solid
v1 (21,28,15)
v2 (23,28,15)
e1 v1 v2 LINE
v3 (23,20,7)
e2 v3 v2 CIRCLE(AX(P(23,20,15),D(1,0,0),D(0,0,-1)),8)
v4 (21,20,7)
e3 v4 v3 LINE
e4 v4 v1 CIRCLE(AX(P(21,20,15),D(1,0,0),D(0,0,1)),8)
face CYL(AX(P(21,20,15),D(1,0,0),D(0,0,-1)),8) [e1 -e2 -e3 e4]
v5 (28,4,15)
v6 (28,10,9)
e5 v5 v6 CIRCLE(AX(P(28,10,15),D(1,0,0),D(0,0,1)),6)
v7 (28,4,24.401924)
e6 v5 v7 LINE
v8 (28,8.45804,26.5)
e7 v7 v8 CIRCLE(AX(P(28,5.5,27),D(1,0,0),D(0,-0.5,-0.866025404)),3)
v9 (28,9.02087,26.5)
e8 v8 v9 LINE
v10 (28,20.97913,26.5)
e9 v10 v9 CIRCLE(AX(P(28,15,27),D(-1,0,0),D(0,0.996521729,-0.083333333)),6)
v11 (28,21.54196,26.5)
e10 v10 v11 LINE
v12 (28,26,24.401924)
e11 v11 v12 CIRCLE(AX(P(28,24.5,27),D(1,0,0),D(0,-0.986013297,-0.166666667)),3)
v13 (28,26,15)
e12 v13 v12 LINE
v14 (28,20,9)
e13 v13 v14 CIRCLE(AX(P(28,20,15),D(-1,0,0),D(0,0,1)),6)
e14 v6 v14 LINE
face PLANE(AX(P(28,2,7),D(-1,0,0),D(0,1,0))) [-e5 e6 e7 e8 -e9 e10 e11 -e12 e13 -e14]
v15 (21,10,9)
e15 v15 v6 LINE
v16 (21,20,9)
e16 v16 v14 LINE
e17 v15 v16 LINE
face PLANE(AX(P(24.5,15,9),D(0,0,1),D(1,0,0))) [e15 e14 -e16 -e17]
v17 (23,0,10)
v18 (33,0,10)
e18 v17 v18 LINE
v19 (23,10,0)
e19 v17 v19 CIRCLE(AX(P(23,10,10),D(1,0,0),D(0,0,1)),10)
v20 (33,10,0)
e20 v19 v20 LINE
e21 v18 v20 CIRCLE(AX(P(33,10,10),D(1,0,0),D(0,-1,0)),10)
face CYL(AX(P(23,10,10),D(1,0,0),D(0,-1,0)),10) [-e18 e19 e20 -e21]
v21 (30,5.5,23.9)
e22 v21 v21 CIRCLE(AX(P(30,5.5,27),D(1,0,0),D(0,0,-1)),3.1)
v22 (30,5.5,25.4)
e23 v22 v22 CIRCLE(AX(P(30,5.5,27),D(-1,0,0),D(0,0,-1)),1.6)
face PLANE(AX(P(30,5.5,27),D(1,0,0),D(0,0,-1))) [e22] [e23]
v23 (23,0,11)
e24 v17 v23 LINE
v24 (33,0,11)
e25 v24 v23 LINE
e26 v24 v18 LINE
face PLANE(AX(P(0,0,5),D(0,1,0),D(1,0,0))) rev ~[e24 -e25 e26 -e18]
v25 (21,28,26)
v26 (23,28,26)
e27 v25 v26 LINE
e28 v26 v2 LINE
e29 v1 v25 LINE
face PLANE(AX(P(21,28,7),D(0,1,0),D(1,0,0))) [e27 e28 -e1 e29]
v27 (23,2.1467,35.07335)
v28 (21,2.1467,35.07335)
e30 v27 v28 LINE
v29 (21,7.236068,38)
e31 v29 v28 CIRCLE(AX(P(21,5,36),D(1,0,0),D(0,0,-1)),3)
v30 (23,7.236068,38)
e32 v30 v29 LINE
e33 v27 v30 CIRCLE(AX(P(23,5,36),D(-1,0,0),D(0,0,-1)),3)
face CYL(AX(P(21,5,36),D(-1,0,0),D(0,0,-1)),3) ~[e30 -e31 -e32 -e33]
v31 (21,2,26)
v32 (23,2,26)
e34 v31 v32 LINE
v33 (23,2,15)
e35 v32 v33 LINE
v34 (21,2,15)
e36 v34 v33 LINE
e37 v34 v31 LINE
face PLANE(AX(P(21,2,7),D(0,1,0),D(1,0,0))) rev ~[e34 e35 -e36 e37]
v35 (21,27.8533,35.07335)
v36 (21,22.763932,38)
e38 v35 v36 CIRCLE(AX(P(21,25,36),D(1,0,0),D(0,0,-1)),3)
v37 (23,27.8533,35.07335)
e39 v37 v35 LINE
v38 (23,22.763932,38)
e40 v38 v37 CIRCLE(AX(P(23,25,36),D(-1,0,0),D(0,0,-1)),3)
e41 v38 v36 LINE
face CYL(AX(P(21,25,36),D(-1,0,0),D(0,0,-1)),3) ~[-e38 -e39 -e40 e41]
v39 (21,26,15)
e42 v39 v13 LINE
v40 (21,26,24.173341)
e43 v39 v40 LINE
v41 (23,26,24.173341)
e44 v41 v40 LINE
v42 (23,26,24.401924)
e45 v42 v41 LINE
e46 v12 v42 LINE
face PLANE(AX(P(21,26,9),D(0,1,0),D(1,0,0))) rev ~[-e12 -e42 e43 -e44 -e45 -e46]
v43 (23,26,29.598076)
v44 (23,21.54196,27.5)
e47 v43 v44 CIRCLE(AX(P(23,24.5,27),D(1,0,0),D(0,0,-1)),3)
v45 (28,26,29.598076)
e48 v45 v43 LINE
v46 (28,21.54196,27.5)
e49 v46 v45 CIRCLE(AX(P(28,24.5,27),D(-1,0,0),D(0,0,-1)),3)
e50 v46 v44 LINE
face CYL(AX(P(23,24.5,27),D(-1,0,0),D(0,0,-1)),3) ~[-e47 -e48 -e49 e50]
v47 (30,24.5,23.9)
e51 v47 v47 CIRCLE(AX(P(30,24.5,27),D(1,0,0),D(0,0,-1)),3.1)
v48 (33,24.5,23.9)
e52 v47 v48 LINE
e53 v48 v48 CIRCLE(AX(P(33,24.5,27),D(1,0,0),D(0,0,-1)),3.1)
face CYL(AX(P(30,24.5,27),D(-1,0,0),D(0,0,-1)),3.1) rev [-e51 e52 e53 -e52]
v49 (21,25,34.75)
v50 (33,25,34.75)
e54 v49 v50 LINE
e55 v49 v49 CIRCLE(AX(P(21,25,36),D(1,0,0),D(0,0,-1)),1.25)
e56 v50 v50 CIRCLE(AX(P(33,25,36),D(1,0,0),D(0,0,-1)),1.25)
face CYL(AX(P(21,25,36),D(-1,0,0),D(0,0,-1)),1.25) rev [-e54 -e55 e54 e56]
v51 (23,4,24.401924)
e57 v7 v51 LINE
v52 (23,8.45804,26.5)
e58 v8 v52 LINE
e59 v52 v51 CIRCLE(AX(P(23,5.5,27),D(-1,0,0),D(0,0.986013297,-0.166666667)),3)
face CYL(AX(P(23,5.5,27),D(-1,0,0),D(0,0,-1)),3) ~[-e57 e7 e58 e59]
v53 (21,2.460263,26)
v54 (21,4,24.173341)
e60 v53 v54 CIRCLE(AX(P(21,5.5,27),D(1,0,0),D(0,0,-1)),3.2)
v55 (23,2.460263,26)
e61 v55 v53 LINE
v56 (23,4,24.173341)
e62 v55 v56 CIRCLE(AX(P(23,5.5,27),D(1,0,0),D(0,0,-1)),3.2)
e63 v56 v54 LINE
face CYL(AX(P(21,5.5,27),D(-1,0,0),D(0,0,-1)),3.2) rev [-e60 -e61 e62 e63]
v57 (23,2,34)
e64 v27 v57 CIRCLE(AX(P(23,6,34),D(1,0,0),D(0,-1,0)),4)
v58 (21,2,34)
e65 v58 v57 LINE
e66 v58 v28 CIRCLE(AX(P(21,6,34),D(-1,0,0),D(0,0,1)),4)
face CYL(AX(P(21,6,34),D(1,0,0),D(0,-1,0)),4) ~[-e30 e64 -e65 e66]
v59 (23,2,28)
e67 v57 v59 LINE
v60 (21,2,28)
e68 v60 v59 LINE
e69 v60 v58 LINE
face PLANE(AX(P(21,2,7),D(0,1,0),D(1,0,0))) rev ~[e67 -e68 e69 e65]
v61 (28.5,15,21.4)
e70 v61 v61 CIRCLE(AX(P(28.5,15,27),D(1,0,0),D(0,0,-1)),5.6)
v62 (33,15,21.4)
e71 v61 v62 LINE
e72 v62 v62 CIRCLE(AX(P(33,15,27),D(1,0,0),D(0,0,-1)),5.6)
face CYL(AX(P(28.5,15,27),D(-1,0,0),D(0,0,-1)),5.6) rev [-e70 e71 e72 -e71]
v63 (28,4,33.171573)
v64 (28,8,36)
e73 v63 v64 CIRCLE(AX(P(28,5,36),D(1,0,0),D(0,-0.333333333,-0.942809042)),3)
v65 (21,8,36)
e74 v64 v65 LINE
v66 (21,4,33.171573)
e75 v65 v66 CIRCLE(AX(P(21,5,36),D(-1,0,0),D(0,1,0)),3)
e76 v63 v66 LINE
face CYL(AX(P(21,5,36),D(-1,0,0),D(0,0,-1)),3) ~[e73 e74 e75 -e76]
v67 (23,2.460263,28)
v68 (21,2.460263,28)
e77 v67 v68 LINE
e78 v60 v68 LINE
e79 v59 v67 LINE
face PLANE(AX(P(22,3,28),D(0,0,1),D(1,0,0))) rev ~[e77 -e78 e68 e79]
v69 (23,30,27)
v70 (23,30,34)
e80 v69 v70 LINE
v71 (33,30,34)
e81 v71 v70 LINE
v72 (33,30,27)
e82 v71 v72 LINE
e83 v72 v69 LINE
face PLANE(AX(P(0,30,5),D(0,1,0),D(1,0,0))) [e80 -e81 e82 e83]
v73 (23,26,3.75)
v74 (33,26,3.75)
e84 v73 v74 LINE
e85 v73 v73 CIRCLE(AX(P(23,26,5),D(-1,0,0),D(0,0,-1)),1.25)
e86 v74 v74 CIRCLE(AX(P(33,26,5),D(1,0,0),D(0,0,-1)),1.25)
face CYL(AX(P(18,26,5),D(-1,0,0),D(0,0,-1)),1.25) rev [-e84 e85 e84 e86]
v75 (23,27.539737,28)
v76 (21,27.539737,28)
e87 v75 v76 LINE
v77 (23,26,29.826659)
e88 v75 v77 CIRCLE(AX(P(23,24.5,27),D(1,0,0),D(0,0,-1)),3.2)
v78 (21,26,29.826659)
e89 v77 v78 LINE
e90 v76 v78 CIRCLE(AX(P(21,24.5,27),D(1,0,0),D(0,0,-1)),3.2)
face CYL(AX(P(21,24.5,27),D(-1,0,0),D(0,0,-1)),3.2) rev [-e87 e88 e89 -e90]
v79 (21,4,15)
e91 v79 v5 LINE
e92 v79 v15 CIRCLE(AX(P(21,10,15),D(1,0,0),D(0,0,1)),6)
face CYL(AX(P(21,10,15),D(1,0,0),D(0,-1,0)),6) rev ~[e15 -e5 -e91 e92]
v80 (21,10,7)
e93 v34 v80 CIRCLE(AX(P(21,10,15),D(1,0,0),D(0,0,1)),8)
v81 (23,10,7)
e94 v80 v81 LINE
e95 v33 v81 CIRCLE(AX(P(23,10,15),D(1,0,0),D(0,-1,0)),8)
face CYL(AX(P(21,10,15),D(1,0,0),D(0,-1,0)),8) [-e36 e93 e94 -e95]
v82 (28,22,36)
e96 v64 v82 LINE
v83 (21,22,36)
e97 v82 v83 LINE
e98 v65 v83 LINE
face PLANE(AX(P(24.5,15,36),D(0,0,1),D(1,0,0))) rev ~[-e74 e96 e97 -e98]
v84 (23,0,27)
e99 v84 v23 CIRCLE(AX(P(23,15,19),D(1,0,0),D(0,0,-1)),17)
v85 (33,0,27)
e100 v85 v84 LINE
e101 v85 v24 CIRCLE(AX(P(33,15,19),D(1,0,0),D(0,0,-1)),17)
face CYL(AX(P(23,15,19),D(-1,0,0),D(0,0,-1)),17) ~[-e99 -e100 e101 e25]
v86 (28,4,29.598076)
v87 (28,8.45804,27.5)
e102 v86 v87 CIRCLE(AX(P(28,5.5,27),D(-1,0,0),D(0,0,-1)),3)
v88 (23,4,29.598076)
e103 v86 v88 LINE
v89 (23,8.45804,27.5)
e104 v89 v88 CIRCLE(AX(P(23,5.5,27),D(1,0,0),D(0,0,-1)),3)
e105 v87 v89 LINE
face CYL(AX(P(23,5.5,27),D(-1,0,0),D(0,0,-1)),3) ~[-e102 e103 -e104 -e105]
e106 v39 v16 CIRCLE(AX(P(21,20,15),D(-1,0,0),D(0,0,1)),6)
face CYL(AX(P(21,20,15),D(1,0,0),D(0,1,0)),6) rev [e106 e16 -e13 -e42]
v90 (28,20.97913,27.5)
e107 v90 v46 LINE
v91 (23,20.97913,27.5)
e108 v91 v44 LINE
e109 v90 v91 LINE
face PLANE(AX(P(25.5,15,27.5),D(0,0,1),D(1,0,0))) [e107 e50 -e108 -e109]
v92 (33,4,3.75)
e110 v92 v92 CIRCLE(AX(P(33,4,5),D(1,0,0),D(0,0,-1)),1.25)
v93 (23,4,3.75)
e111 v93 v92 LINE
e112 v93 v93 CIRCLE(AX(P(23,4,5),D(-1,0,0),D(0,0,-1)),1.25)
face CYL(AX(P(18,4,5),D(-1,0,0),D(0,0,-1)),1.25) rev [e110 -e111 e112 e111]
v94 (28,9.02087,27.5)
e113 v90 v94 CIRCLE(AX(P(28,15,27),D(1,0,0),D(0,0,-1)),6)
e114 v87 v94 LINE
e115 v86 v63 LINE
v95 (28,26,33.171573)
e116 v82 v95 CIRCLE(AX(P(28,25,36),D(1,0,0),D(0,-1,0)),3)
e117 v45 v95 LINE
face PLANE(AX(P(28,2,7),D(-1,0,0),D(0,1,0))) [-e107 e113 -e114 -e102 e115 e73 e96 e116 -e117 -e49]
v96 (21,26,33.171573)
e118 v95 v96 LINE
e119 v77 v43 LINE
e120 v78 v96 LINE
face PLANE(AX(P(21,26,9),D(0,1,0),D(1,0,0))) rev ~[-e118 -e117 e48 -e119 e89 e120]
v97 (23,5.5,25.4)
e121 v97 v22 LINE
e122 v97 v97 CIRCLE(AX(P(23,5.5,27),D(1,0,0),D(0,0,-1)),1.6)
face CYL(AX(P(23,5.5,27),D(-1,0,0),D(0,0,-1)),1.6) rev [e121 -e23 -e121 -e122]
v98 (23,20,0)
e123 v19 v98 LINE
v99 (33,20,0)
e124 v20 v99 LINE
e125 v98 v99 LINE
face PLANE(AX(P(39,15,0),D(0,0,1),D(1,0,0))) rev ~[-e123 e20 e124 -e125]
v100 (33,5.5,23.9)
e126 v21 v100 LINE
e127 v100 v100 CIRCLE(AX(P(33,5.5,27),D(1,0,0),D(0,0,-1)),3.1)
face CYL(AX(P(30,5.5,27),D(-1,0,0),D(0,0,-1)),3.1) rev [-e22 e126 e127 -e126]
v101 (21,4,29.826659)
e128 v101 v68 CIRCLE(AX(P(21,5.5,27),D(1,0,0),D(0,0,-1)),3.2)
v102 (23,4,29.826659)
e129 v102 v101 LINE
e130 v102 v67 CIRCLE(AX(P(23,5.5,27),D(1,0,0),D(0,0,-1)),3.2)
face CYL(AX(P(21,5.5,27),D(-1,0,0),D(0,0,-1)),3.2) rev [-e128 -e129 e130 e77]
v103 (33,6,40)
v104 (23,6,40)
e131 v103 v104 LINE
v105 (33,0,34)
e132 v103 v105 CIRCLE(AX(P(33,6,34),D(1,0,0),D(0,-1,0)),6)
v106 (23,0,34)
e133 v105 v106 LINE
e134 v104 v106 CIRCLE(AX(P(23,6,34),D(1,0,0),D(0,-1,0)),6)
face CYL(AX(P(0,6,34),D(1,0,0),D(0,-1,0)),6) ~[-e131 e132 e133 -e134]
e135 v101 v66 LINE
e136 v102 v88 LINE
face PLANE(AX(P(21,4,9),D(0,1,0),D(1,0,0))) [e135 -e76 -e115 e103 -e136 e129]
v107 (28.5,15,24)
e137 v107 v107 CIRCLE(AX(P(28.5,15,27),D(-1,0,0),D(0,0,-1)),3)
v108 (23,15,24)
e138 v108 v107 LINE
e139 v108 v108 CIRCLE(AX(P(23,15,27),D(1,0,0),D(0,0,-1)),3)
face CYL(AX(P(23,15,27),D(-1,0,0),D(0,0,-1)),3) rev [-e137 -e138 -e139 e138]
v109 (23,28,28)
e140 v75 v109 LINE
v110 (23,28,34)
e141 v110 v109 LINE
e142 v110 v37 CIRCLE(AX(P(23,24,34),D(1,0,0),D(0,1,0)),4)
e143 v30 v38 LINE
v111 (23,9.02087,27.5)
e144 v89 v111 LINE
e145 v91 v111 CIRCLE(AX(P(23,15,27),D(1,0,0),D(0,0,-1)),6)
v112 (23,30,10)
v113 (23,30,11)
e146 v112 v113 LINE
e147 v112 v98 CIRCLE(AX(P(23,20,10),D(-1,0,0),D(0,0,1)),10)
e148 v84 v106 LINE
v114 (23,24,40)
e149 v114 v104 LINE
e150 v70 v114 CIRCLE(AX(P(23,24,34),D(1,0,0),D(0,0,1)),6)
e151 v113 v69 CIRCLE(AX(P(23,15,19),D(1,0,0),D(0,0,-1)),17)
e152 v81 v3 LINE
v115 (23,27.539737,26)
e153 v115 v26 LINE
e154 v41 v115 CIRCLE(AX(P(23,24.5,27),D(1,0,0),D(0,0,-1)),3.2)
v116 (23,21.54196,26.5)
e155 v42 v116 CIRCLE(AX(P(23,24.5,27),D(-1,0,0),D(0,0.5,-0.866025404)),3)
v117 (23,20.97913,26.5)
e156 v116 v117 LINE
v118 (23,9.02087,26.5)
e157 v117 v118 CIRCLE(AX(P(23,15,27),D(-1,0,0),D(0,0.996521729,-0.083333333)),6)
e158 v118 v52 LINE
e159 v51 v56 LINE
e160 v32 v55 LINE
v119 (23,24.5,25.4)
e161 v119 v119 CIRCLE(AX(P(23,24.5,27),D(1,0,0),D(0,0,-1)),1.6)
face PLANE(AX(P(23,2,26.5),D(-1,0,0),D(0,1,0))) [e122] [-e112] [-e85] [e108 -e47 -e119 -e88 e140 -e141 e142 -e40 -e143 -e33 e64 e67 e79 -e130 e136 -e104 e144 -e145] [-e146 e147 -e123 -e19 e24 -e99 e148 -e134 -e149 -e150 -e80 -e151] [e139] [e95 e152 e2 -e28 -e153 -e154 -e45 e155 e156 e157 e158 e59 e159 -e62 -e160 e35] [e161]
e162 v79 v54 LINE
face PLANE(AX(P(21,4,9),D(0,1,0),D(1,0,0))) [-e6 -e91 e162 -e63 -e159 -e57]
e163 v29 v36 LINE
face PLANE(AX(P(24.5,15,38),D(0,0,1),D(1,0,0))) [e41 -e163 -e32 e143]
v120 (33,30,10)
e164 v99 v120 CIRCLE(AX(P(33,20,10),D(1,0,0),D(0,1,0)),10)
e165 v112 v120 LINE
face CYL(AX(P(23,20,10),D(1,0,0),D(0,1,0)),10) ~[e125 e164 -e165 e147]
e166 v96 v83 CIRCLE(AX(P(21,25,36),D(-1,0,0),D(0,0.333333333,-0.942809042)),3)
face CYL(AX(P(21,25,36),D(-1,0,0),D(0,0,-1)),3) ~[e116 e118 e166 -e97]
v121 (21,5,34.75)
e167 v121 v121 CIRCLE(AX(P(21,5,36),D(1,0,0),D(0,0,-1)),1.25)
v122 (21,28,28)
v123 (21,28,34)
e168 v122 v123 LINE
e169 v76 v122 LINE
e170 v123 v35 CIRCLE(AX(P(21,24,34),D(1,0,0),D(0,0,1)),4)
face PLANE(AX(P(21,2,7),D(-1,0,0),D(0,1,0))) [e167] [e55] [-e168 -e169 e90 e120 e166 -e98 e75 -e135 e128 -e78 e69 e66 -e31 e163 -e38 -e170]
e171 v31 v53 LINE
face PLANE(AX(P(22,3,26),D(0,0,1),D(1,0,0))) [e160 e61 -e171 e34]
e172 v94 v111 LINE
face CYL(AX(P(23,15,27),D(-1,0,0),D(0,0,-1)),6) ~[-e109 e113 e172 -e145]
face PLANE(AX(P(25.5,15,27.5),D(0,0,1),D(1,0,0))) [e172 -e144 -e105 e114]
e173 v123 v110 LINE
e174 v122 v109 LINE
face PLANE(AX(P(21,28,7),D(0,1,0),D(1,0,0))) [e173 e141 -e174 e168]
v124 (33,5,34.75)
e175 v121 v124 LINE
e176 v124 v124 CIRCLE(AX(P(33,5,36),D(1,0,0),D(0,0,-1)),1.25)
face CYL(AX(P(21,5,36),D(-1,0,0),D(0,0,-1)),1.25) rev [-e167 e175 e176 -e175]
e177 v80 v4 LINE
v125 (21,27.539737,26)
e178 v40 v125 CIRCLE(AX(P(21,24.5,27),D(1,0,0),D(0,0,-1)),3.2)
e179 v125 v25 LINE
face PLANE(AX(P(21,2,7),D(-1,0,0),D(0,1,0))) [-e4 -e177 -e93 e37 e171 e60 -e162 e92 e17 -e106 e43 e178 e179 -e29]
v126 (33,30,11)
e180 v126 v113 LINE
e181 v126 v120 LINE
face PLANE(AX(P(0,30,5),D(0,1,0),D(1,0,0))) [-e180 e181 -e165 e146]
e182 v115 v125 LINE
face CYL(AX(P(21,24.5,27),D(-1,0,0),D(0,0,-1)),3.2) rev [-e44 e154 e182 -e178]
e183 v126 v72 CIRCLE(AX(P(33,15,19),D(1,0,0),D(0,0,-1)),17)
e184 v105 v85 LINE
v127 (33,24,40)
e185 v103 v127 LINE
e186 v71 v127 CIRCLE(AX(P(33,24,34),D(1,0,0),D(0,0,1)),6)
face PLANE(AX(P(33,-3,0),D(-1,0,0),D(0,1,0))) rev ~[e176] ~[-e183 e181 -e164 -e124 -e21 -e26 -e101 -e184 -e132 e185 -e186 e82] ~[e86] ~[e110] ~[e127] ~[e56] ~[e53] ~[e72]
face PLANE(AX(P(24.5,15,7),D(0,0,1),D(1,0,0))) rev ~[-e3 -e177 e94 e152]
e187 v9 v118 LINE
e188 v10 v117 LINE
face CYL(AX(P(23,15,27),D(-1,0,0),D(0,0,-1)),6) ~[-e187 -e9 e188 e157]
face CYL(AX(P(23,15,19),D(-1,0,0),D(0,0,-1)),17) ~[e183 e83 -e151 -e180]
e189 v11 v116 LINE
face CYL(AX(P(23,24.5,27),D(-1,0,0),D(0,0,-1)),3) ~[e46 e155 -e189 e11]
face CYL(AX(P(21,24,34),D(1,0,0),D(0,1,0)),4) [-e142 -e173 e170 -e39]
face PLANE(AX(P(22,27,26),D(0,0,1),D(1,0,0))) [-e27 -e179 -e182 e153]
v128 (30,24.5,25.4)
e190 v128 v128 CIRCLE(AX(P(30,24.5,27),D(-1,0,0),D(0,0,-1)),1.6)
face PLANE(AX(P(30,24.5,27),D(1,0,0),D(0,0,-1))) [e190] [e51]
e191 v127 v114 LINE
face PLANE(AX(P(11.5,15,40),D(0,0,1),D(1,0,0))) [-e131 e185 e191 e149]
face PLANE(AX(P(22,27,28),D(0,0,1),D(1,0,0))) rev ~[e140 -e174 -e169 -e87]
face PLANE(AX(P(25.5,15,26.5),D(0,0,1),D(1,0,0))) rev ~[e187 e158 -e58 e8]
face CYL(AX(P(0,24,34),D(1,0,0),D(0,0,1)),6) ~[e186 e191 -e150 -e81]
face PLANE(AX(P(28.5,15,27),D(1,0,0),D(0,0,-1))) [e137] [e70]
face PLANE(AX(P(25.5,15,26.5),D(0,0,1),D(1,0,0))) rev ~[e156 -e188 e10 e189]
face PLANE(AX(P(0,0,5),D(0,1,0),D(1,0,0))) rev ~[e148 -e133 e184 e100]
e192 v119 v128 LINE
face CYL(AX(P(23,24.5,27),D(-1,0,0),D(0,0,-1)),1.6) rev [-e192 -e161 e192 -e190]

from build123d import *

# Parameters (mm, degrees)
CYLINDER092_R           = 1.6
CYLINDER092_DEPTH       = 10
CYLINDER092_PITCH_ANGLE = 90
CYLINDER094_R           = 3.1
CYLINDER094_DEPTH       = 3
CYLINDER094_PITCH_ANGLE = 90
CYLINDER093_R           = 3.1
CYLINDER093_DEPTH       = 3
CYLINDER093_PITCH_ANGLE = 90
CYLINDER091_R           = 1.6
CYLINDER091_DEPTH       = 10
CYLINDER091_PITCH_ANGLE = 90
CYLINDER087_R           = 3.2
CYLINDER087_DEPTH       = 2
CYLINDER087_PITCH_ANGLE = 90
CYLINDER088_R           = 3.2
CYLINDER088_DEPTH       = 2
CYLINDER088_PITCH_ANGLE = 90
CYLINDER090_R           = 3
CYLINDER090_DEPTH       = 10
CYLINDER090_PITCH_ANGLE = 90
CYLINDER082_R           = 1.25
CYLINDER082_DEPTH       = 12
CYLINDER082_PITCH_ANGLE = 90
CYLINDER080_R           = 1.25
CYLINDER080_DEPTH       = 12
CYLINDER080_PITCH_ANGLE = 90
CYLINDER081_R           = 3
CYLINDER081_DEPTH       = 12
CYLINDER081_PITCH_ANGLE = 90
BOX026_W                = 2
BOX026_H                = 2
BOX026_DEPTH            = 2
BOX025_W                = 2
BOX025_H                = 2
BOX025_DEPTH            = 2
BOX024_W                = 7
BOX024_H                = 22
BOX024_DEPTH            = 27
FILLET033_R             = 6
FILLET034_R             = 2
BOX023_W                = 7
BOX023_H                = 26
BOX023_DEPTH            = 31
FILLET032_R             = 4
FILLET031_R             = 8
CYLINDER078_R           = 3
CYLINDER078_DEPTH       = 5
CYLINDER078_PITCH_ANGLE = 90
BOX022_W                = 5
BOX022_H                = 26
BOX022_DEPTH            = 1
CYLINDER077_R           = 6
CYLINDER077_DEPTH       = 5
CYLINDER077_PITCH_ANGLE = 90
BOX021_W                = 18
BOX021_H                = 26
BOX021_DEPTH            = 31
FILLET030_R             = 4
FILLET029_R             = 8
BOX017_W                = 23
BOX017_H                = 80
BOX017_DEPTH            = 41
CYLINDER074_R           = 1.25
CYLINDER074_DEPTH       = 10
CYLINDER074_ROLL_ANGLE  = 90
CYLINDER073_R           = 1.25
CYLINDER073_DEPTH       = 10
CYLINDER073_ROLL_ANGLE  = 90
CYLINDER070_R           = 4
CYLINDER070_DEPTH       = 23
CYLINDER070_ROLL_ANGLE  = 90
FILLET024_R             = 2
CYLINDER071_R           = 4
CYLINDER071_DEPTH       = 23
CYLINDER071_ROLL_ANGLE  = 90
FILLET025_R             = 2
CYLINDER072_R           = 4
CYLINDER072_DEPTH       = 23
CYLINDER072_ROLL_ANGLE  = 90
FILLET026_R             = 2
CYLINDER069_R           = 4
CYLINDER069_DEPTH       = 23
CYLINDER069_ROLL_ANGLE  = 90
FILLET023_R             = 2
CYLINDER067_R           = 5.6
CYLINDER067_DEPTH       = 4.5
CYLINDER067_PITCH_ANGLE = 90
CYLINDER068_R           = 5.6
CYLINDER068_DEPTH       = 4.5
CYLINDER068_PITCH_ANGLE = 90
CYLINDER066_R           = 3
CYLINDER066_DEPTH       = 33
CYLINDER066_PITCH_ANGLE = 90
CYLINDER063_R           = 1.25
CYLINDER063_DEPTH       = 15
CYLINDER063_PITCH_ANGLE = 90
CYLINDER064_R           = 1.25
CYLINDER064_DEPTH       = 15
CYLINDER064_PITCH_ANGLE = 90
CYLINDER065_R           = 1.25
CYLINDER065_DEPTH       = 15
CYLINDER065_PITCH_ANGLE = 90
CYLINDER062_R           = 1.25
CYLINDER062_DEPTH       = 15
CYLINDER062_PITCH_ANGLE = 90
CYLINDER061_R           = 17
CYLINDER061_DEPTH       = 10
CYLINDER061_PITCH_ANGLE = 90
BOX016_W                = 22
BOX016_H                = 36
BOX016_DEPTH            = 40
CYLINDER060_R           = 17
CYLINDER060_DEPTH       = 17
CYLINDER060_PITCH_ANGLE = 90
BOX015_W                = 23
BOX015_H                = 30
BOX015_DEPTH            = 35
FILLET022_R             = 10
FILLET021_R             = 6
BOX014_W                = 32
BOX014_H                = 30
BOX014_DEPTH            = 40
FILLET020_R             = 10
FILLET019_R             = 6
BOX013_W                = 10
BOX013_H                = 50
BOX013_DEPTH            = 3
BOX012_W                = 10
BOX012_H                = 80
BOX012_DEPTH            = 17
FILLET018_R             = 3
CHAMFER002_SIZE         = 2.99
CYLINDER079_R           = 3
CYLINDER079_DEPTH       = 12
CYLINDER079_PITCH_ANGLE = 90
CYLINDER089_R           = 3
CYLINDER089_DEPTH       = 10
CYLINDER089_PITCH_ANGLE = 90


with BuildPart() as cylinder092:
    # Cylinder092 → Cylinder092 (new body)
    with BuildSketch(Plane.XY):
        Circle(CYLINDER092_R)
    extrude(amount=CYLINDER092_DEPTH)


with BuildPart() as cylinder092_1:
    # Cylinder092 pitch: moved
    add(cylinder092.part.rotate(Axis((0, 0, 0), (0, 1, 0)), CYLINDER092_PITCH_ANGLE))


with BuildPart() as cylinder092_2:
    # Cylinder092 placement: moved
    add(cylinder092_1.part.moved(Location((23, 24.5, 27))))


with BuildPart() as cylinder094:
    # Cylinder094 → Cylinder094 (new body)
    with BuildSketch(Plane.XY):
        Circle(CYLINDER094_R)
    extrude(amount=CYLINDER094_DEPTH)


with BuildPart() as cylinder094_1:
    # Cylinder094 pitch: moved
    add(cylinder094.part.rotate(Axis((0, 0, 0), (0, 1, 0)), CYLINDER094_PITCH_ANGLE))


with BuildPart() as cylinder094_2:
    # Cylinder094 placement: moved
    add(cylinder094_1.part.moved(Location((30, 24.5, 27))))


with BuildPart() as cylinder093:
    # Cylinder093 → Cylinder093 (new body)
    with BuildSketch(Plane.XY):
        Circle(CYLINDER093_R)
    extrude(amount=CYLINDER093_DEPTH)


with BuildPart() as cylinder093_1:
    # Cylinder093 pitch: moved
    add(cylinder093.part.rotate(Axis((0, 0, 0), (0, 1, 0)), CYLINDER093_PITCH_ANGLE))


with BuildPart() as cylinder093_2:
    # Cylinder093 placement: moved
    add(cylinder093_1.part.moved(Location((30, 5.5, 27))))


with BuildPart() as fusion051:
    # Cylinder091 → Cylinder091 (new body)
    with BuildSketch(Plane.XY):
        Circle(CYLINDER091_R)
    extrude(amount=CYLINDER091_DEPTH)


with BuildPart() as fusion051_1:
    # Cylinder091 pitch: moved
    add(fusion051.part.rotate(Axis((0, 0, 0), (0, 1, 0)), CYLINDER091_PITCH_ANGLE))


with BuildPart() as fusion051_2:
    # Cylinder091 placement: moved
    add(fusion051_1.part.moved(Location((23, 5.5, 27))))

    # Fusion051: union Cylinder092, Cylinder094, Cylinder093
    add(cylinder092_2.part)
    add(cylinder094_2.part)
    add(cylinder093_2.part)


with BuildPart() as cylinder087:
    # Cylinder087 → Cylinder087 (new body)
    with BuildSketch(Plane.XY):
        Circle(CYLINDER087_R)
    extrude(amount=CYLINDER087_DEPTH)


with BuildPart() as cylinder087_1:
    # Cylinder087 pitch: moved
    add(cylinder087.part.rotate(Axis((0, 0, 0), (0, 1, 0)), CYLINDER087_PITCH_ANGLE))


with BuildPart() as cylinder087_2:
    # Cylinder087 placement: moved
    add(cylinder087_1.part.moved(Location((21, 24.5, 27))))


with BuildPart() as fusion050:
    # Cylinder088 → Cylinder088 (new body)
    with BuildSketch(Plane.XY):
        Circle(CYLINDER088_R)
    extrude(amount=CYLINDER088_DEPTH)


with BuildPart() as fusion050_1:
    # Cylinder088 pitch: moved
    add(fusion050.part.rotate(Axis((0, 0, 0), (0, 1, 0)), CYLINDER088_PITCH_ANGLE))


with BuildPart() as fusion050_2:
    # Cylinder088 placement: moved
    add(fusion050_1.part.moved(Location((21, 5.5, 27))))

    # Fusion050: union Cylinder087
    add(cylinder087_2.part)


with BuildPart() as cylinder090:
    # Cylinder090 → Cylinder090 (new body)
    with BuildSketch(Plane.XY):
        Circle(CYLINDER090_R)
    extrude(amount=CYLINDER090_DEPTH)


with BuildPart() as cylinder090_1:
    # Cylinder090 pitch: moved
    add(cylinder090.part.rotate(Axis((0, 0, 0), (0, 1, 0)), CYLINDER090_PITCH_ANGLE))


with BuildPart() as cylinder090_2:
    # Cylinder090 placement: moved
    add(cylinder090_1.part.moved(Location((23, 5.5, 27))))


with BuildPart() as cylinder082:
    # Cylinder082 → Cylinder082 (new body)
    with BuildSketch(Plane.XY):
        Circle(CYLINDER082_R)
    extrude(amount=CYLINDER082_DEPTH)


with BuildPart() as cylinder082_1:
    # Cylinder082 pitch: moved
    add(cylinder082.part.rotate(Axis((0, 0, 0), (0, 1, 0)), CYLINDER082_PITCH_ANGLE))


with BuildPart() as cylinder082_2:
    # Cylinder082 placement: moved
    add(cylinder082_1.part.moved(Location((21, 25, 36))))


with BuildPart() as fusion046:
    # Cylinder080 → Cylinder080 (new body)
    with BuildSketch(Plane.XY):
        Circle(CYLINDER080_R)
    extrude(amount=CYLINDER080_DEPTH)


with BuildPart() as fusion046_1:
    # Cylinder080 pitch: moved
    add(fusion046.part.rotate(Axis((0, 0, 0), (0, 1, 0)), CYLINDER080_PITCH_ANGLE))


with BuildPart() as fusion046_2:
    # Cylinder080 placement: moved
    add(fusion046_1.part.moved(Location((21, 5, 36))))

    # Fusion046: union Cylinder082
    add(cylinder082_2.part)


with BuildPart() as cylinder081:
    # Cylinder081 → Cylinder081 (new body)
    with BuildSketch(Plane.XY):
        Circle(CYLINDER081_R)
    extrude(amount=CYLINDER081_DEPTH)


with BuildPart() as cylinder081_1:
    # Cylinder081 pitch: moved
    add(cylinder081.part.rotate(Axis((0, 0, 0), (0, 1, 0)), CYLINDER081_PITCH_ANGLE))


with BuildPart() as cylinder081_2:
    # Cylinder081 placement: moved
    add(cylinder081_1.part.moved(Location((21, 25, 36))))


with BuildPart() as cube010:
    # Box026 → Box026 (new body)
    with BuildSketch(Plane(origin=(21, 26, 26), x_dir=(1, 0, 0), z_dir=(0, 0, 1))):
        with Locations((1, 1)):
            Rectangle(BOX026_W, BOX026_H)
    extrude(amount=BOX026_DEPTH)


with BuildPart() as fusion043:
    # Box025 → Box025 (new body)
    with BuildSketch(Plane(origin=(21, 2, 26), x_dir=(1, 0, 0), z_dir=(0, 0, 1))):
        with Locations((1, 1)):
            Rectangle(BOX025_W, BOX025_H)
    extrude(amount=BOX025_DEPTH)

    # Fusion043: union Cube010
    add(cube010.part)


with BuildPart() as fillet034:
    # Box024 → Box024 (new body)
    with BuildSketch(Plane(origin=(10, 4, 9), x_dir=(1, 0, 0), z_dir=(0, 0, 1))):
        with Locations((3.5, 11)):
            Rectangle(BOX024_W, BOX024_H)
    extrude(amount=BOX024_DEPTH)

    # Fillet033
    fillet033_edges = [fillet034.edges().sort_by_distance(p)[0] for p in [
        (13.5, 4, 9),
        (13.5, 26, 9),
    ]]
    fillet(fillet033_edges, radius=FILLET033_R)


with BuildPart() as fillet034_1:
    # Fillet033 placement: moved
    add(fillet034.part.moved(Location((-2, 0, 0))))

    # Fillet034
    fillet034_edges = [fillet034_1.edges().sort_by_distance(p)[0] for p in [
        (11.5, 4, 36),
        (11.5, 26, 36),
    ]]
    fillet(fillet034_edges, radius=FILLET034_R)


with BuildPart() as fillet034_2:
    # Fillet034 placement: moved
    add(fillet034_1.part.moved(Location((2, 0, 0))))


with BuildPart() as cut038:
    # Box023 → Box023 (new body)
    with BuildSketch(Plane(origin=(5, 2, 7), x_dir=(1, 0, 0), z_dir=(0, 0, 1))):
        with Locations((3.5, 13)):
            Rectangle(BOX023_W, BOX023_H)
    extrude(amount=BOX023_DEPTH)

    # Fillet032
    fillet032_edges = [cut038.edges().sort_by_distance(p)[0] for p in [
        (8.5, 2, 38),
        (8.5, 28, 38),
    ]]
    fillet(fillet032_edges, radius=FILLET032_R)

    # Fillet031
    fillet031_edges = [cut038.edges().sort_by_distance(p)[0] for p in [
        (8.5, 2, 7),
        (8.5, 28, 7),
    ]]
    fillet(fillet031_edges, radius=FILLET031_R)


with BuildPart() as cut038_1:
    # Fillet031 placement: moved
    add(cut038.part.moved(Location((5, 0, 0))))

    # Cut037: cut Fillet034
    add(fillet034_2.part, mode=Mode.SUBTRACT)


with BuildPart() as cut038_2:
    # Cut037 placement: moved
    add(cut038_1.part.moved(Location((11, 0, 0))))

    # Cut038: cut Fusion043
    add(fusion043.part, mode=Mode.SUBTRACT)


with BuildPart() as cylinder078:
    # Cylinder078 → Cylinder078 (new body)
    with BuildSketch(Plane.XY):
        Circle(CYLINDER078_R)
    extrude(amount=CYLINDER078_DEPTH)


with BuildPart() as cylinder078_1:
    # Cylinder078 pitch: moved
    add(cylinder078.part.rotate(Axis((0, 0, 0), (0, 1, 0)), CYLINDER078_PITCH_ANGLE))


with BuildPart() as cylinder078_2:
    # Cylinder078 placement: moved
    add(cylinder078_1.part.moved(Location((23, 15, 27))))


with BuildPart() as cube008:
    # Box022 → Box022 (new body)
    with BuildSketch(Plane(origin=(23, 2, 26.5), x_dir=(1, 0, 0), z_dir=(0, 0, 1))):
        with Locations((2.5, 13)):
            Rectangle(BOX022_W, BOX022_H)
    extrude(amount=BOX022_DEPTH)


with BuildPart() as cut036:
    # Cylinder077 → Cylinder077 (new body)
    with BuildSketch(Plane.XY):
        Circle(CYLINDER077_R)
    extrude(amount=CYLINDER077_DEPTH)


with BuildPart() as cut036_1:
    # Cylinder077 pitch: moved
    add(cut036.part.rotate(Axis((0, 0, 0), (0, 1, 0)), CYLINDER077_PITCH_ANGLE))


with BuildPart() as cut036_2:
    # Cylinder077 placement: moved
    add(cut036_1.part.moved(Location((23, 15, 27))))

    # Fusion041: union Cube008
    add(cube008.part)

    # Cut036: cut Cylinder078
    add(cylinder078_2.part, mode=Mode.SUBTRACT)


with BuildPart() as fillet029:
    # Box021 → Box021 (new body)
    with BuildSketch(Plane(origin=(5, 2, 7), x_dir=(1, 0, 0), z_dir=(0, 0, 1))):
        with Locations((9, 13)):
            Rectangle(BOX021_W, BOX021_H)
    extrude(amount=BOX021_DEPTH)

    # Fillet030
    fillet030_edges = [fillet029.edges().sort_by_distance(p)[0] for p in [
        (14, 2, 38),
        (14, 28, 38),
    ]]
    fillet(fillet030_edges, radius=FILLET030_R)

    # Fillet029
    fillet029_edges = [fillet029.edges().sort_by_distance(p)[0] for p in [
        (14, 2, 7),
        (14, 28, 7),
    ]]
    fillet(fillet029_edges, radius=FILLET029_R)


with BuildPart() as fillet029_1:
    # Fillet029 placement: moved
    add(fillet029.part.moved(Location((5, 0, 0))))


with BuildPart() as box017:
    # Box017 → Box017 (new body)
    with BuildSketch(Plane(origin=(0, -25, 0), x_dir=(1, 0, 0), z_dir=(0, 0, 1))):
        with Locations((11.5, 40)):
            Rectangle(BOX017_W, BOX017_H)
    extrude(amount=BOX017_DEPTH)


with BuildPart() as cylinder074:
    # Cylinder074 → Cylinder074 (new body)
    with BuildSketch(Plane.XY):
        Circle(CYLINDER074_R)
    extrude(amount=CYLINDER074_DEPTH)


with BuildPart() as cylinder074_1:
    # Cylinder074 roll: moved
    add(cylinder074.part.rotate(Axis((0, 0, 0), (1, 0, 0)), CYLINDER074_ROLL_ANGLE))


with BuildPart() as cylinder074_2:
    # Cylinder074 placement: moved
    add(cylinder074_1.part.moved(Location((5, 55, 32.5))))


with BuildPart() as fusion038:
    # Cylinder073 → Cylinder073 (new body)
    with BuildSketch(Plane.XY):
        Circle(CYLINDER073_R)
    extrude(amount=CYLINDER073_DEPTH)


with BuildPart() as fusion038_1:
    # Cylinder073 roll: moved
    add(fusion038.part.rotate(Axis((0, 0, 0), (1, 0, 0)), CYLINDER073_ROLL_ANGLE))


with BuildPart() as fusion038_2:
    # Cylinder073 placement: moved
    add(fusion038_1.part.moved(Location((5, -15, 32.5))))

    # Fusion038: union Cylinder074
    add(cylinder074_2.part)


with BuildPart() as fillet024:
    # Cylinder070 → Cylinder070 (new body)
    with BuildSketch(Plane.XY):
        Circle(CYLINDER070_R)
    extrude(amount=CYLINDER070_DEPTH)


with BuildPart() as fillet024_1:
    # Cylinder070 roll: moved
    add(fillet024.part.rotate(Axis((0, 0, 0), (1, 0, 0)), CYLINDER070_ROLL_ANGLE))


with BuildPart() as fillet024_2:
    # Cylinder070 placement: moved
    add(fillet024_1.part.moved(Location((-3, 0, 31))))

    # Fillet024
    fillet024_edges = [fillet024_2.edges().sort_by_distance(p)[0] for p in [
        (-7, -23, 31),
        (-7, 0, 31),
    ]]
    fillet(fillet024_edges, radius=FILLET024_R)


with BuildPart() as fillet024_3:
    # Fillet024 placement: moved
    add(fillet024_2.part.moved(Location((16, 0, 0))))


with BuildPart() as fillet025:
    # Cylinder071 → Cylinder071 (new body)
    with BuildSketch(Plane.XY):
        Circle(CYLINDER071_R)
    extrude(amount=CYLINDER071_DEPTH)


with BuildPart() as fillet025_1:
    # Cylinder071 roll: moved
    add(fillet025.part.rotate(Axis((0, 0, 0), (1, 0, 0)), CYLINDER071_ROLL_ANGLE))


with BuildPart() as fillet025_2:
    # Cylinder071 placement: moved
    add(fillet025_1.part.moved(Location((-3, 0, 31))))

    # Fillet025
    fillet025_edges = [fillet025_2.edges().sort_by_distance(p)[0] for p in [
        (-7, -23, 31),
        (-7, 0, 31),
    ]]
    fillet(fillet025_edges, radius=FILLET025_R)


with BuildPart() as fillet025_3:
    # Fillet025 placement: moved
    add(fillet025_2.part.moved(Location((0, 53, 0))))


with BuildPart() as fillet026:
    # Cylinder072 → Cylinder072 (new body)
    with BuildSketch(Plane.XY):
        Circle(CYLINDER072_R)
    extrude(amount=CYLINDER072_DEPTH)


with BuildPart() as fillet026_1:
    # Cylinder072 roll: moved
    add(fillet026.part.rotate(Axis((0, 0, 0), (1, 0, 0)), CYLINDER072_ROLL_ANGLE))


with BuildPart() as fillet026_2:
    # Cylinder072 placement: moved
    add(fillet026_1.part.moved(Location((-3, 0, 31))))

    # Fillet026
    fillet026_edges = [fillet026_2.edges().sort_by_distance(p)[0] for p in [
        (-7, -23, 31),
        (-7, 0, 31),
    ]]
    fillet(fillet026_edges, radius=FILLET026_R)


with BuildPart() as fillet026_3:
    # Fillet026 placement: moved
    add(fillet026_2.part.moved(Location((16, 53, 0))))


with BuildPart() as fusion037:
    # Cylinder069 → Cylinder069 (new body)
    with BuildSketch(Plane.XY):
        Circle(CYLINDER069_R)
    extrude(amount=CYLINDER069_DEPTH)


with BuildPart() as fusion037_1:
    # Cylinder069 roll: moved
    add(fusion037.part.rotate(Axis((0, 0, 0), (1, 0, 0)), CYLINDER069_ROLL_ANGLE))


with BuildPart() as fusion037_2:
    # Cylinder069 placement: moved
    add(fusion037_1.part.moved(Location((-3, 0, 31))))

    # Fillet023
    fillet023_edges = [fusion037_2.edges().sort_by_distance(p)[0] for p in [
        (-7, -23, 31),
        (-7, 0, 31),
    ]]
    fillet(fillet023_edges, radius=FILLET023_R)

    # Fusion037: union Fillet024, Fillet025, Fillet026
    add(fillet024_3.part)
    add(fillet025_3.part)
    add(fillet026_3.part)


with BuildPart() as cylinder067:
    # Cylinder067 → Cylinder067 (new body)
    with BuildSketch(Plane.XY):
        Circle(CYLINDER067_R)
    extrude(amount=CYLINDER067_DEPTH)


with BuildPart() as cylinder067_1:
    # Cylinder067 pitch: moved
    add(cylinder067.part.rotate(Axis((0, 0, 0), (0, 1, 0)), CYLINDER067_PITCH_ANGLE))


with BuildPart() as cylinder067_2:
    # Cylinder067 placement: moved
    add(cylinder067_1.part.moved(Location((0, 15, 27))))


with BuildPart() as cylinder068:
    # Cylinder068 → Cylinder068 (new body)
    with BuildSketch(Plane.XY):
        Circle(CYLINDER068_R)
    extrude(amount=CYLINDER068_DEPTH)


with BuildPart() as cylinder068_1:
    # Cylinder068 pitch: moved
    add(cylinder068.part.rotate(Axis((0, 0, 0), (0, 1, 0)), CYLINDER068_PITCH_ANGLE))


with BuildPart() as cylinder068_2:
    # Cylinder068 placement: moved
    add(cylinder068_1.part.moved(Location((28.5, 15, 27))))


with BuildPart() as fusion036:
    # Cylinder066 → Cylinder066 (new body)
    with BuildSketch(Plane.XY):
        Circle(CYLINDER066_R)
    extrude(amount=CYLINDER066_DEPTH)


with BuildPart() as fusion036_1:
    # Cylinder066 pitch: moved
    add(fusion036.part.rotate(Axis((0, 0, 0), (0, 1, 0)), CYLINDER066_PITCH_ANGLE))


with BuildPart() as fusion036_2:
    # Cylinder066 placement: moved
    add(fusion036_1.part.moved(Location((0, 15, 27))))

    # Fusion036: union Cylinder067, Cylinder068
    add(cylinder067_2.part)
    add(cylinder068_2.part)


with BuildPart() as cylinder063:
    # Cylinder063 → Cylinder063 (new body)
    with BuildSketch(Plane.XY):
        Circle(CYLINDER063_R)
    extrude(amount=CYLINDER063_DEPTH)


with BuildPart() as cylinder063_1:
    # Cylinder063 pitch: moved
    add(cylinder063.part.rotate(Axis((0, 0, 0), (0, 1, 0)), CYLINDER063_PITCH_ANGLE))


with BuildPart() as cylinder063_2:
    # Cylinder063 placement: moved
    add(cylinder063_1.part.moved(Location((30, 4, 5))))


with BuildPart() as cylinder064:
    # Cylinder064 → Cylinder064 (new body)
    with BuildSketch(Plane.XY):
        Circle(CYLINDER064_R)
    extrude(amount=CYLINDER064_DEPTH)


with BuildPart() as cylinder064_1:
    # Cylinder064 pitch: moved
    add(cylinder064.part.rotate(Axis((0, 0, 0), (0, 1, 0)), CYLINDER064_PITCH_ANGLE))


with BuildPart() as cylinder064_2:
    # Cylinder064 placement: moved
    add(cylinder064_1.part.moved(Location((30, 26, 5))))


with BuildPart() as cylinder065:
    # Cylinder065 → Cylinder065 (new body)
    with BuildSketch(Plane.XY):
        Circle(CYLINDER065_R)
    extrude(amount=CYLINDER065_DEPTH)


with BuildPart() as cylinder065_1:
    # Cylinder065 pitch: moved
    add(cylinder065.part.rotate(Axis((0, 0, 0), (0, 1, 0)), CYLINDER065_PITCH_ANGLE))


with BuildPart() as cylinder065_2:
    # Cylinder065 placement: moved
    add(cylinder065_1.part.moved(Location((30, 25, 36))))


with BuildPart() as fusion035:
    # Cylinder062 → Cylinder062 (new body)
    with BuildSketch(Plane.XY):
        Circle(CYLINDER062_R)
    extrude(amount=CYLINDER062_DEPTH)


with BuildPart() as fusion035_1:
    # Cylinder062 pitch: moved
    add(fusion035.part.rotate(Axis((0, 0, 0), (0, 1, 0)), CYLINDER062_PITCH_ANGLE))


with BuildPart() as fusion035_2:
    # Cylinder062 placement: moved
    add(fusion035_1.part.moved(Location((30, 5, 36))))

    # Fusion035: union Cylinder063, Cylinder064, Cylinder065
    add(cylinder063_2.part)
    add(cylinder064_2.part)
    add(cylinder065_2.part)


with BuildPart() as fusion035_3:
    # Fusion035 placement: moved
    add(fusion035_2.part.moved(Location((-12, 0, 0))))


with BuildPart() as cylinder061:
    # Cylinder061 → Cylinder061 (new body)
    with BuildSketch(Plane.XY):
        Circle(CYLINDER061_R)
    extrude(amount=CYLINDER061_DEPTH)


with BuildPart() as cylinder061_1:
    # Cylinder061 pitch: moved
    add(cylinder061.part.rotate(Axis((0, 0, 0), (0, 1, 0)), CYLINDER061_PITCH_ANGLE))


with BuildPart() as cylinder061_2:
    # Cylinder061 placement: moved
    add(cylinder061_1.part.moved(Location((23, 15, 19))))


with BuildPart() as box016:
    # Box016 → Box016 (new body)
    with BuildSketch(Plane(origin=(33, -3, 0), x_dir=(1, 0, 0), z_dir=(0, 0, 1))):
        with Locations((11, 18)):
            Rectangle(BOX016_W, BOX016_H)
    extrude(amount=BOX016_DEPTH)


with BuildPart() as cylinder060:
    # Cylinder060 → Cylinder060 (new body)
    with BuildSketch(Plane.XY):
        Circle(CYLINDER060_R)
    extrude(amount=CYLINDER060_DEPTH)


with BuildPart() as cylinder060_1:
    # Cylinder060 pitch: moved
    add(cylinder060.part.rotate(Axis((0, 0, 0), (0, 1, 0)), CYLINDER060_PITCH_ANGLE))


with BuildPart() as cylinder060_2:
    # Cylinder060 placement: moved
    add(cylinder060_1.part.moved(Location((33, 15, 18))))


with BuildPart() as fillet021:
    # Box015 → Box015 (new body)
    with BuildSketch(Plane.XY.offset(5)):
        with Locations((11.5, 15)):
            Rectangle(BOX015_W, BOX015_H)
    extrude(amount=BOX015_DEPTH)

    # Fillet022
    fillet022_edges = [fillet021.edges().sort_by_distance(p)[0] for p in [
        (11.5, 0, 5),
        (11.5, 30, 5),
    ]]
    fillet(fillet022_edges, radius=FILLET022_R)

    # Fillet021
    fillet021_edges = [fillet021.edges().sort_by_distance(p)[0] for p in [
        (11.5, 0, 40),
        (11.5, 30, 40),
    ]]
    fillet(fillet021_edges, radius=FILLET021_R)


with BuildPart() as cut028:
    # Box014 → Box014 (new body)
    with BuildSketch(Plane(origin=(23, 0, 0), x_dir=(1, 0, 0), z_dir=(0, 0, 1))):
        with Locations((16, 15)):
            Rectangle(BOX014_W, BOX014_H)
    extrude(amount=BOX014_DEPTH)

    # Fillet020
    fillet020_edges = [cut028.edges().sort_by_distance(p)[0] for p in [
        (39, 0, 0),
        (39, 30, 0),
    ]]
    fillet(fillet020_edges, radius=FILLET020_R)

    # Fillet019
    fillet019_edges = [cut028.edges().sort_by_distance(p)[0] for p in [
        (39, 0, 40),
        (39, 30, 40),
    ]]
    fillet(fillet019_edges, radius=FILLET019_R)

    # Fusion034: union Fillet021
    add(fillet021.part)

    # Fusion033: union Cylinder060
    add(cylinder060_2.part)

    # Cut029: cut Box016
    add(box016.part, mode=Mode.SUBTRACT)

    # Fusion032: union Cylinder061
    add(cylinder061_2.part)

    # Cut028: cut Fusion035
    add(fusion035_3.part, mode=Mode.SUBTRACT)


with BuildPart() as cube006:
    # Box013 → Box013 (new body)
    with BuildSketch(Plane(origin=(0, -10, 38), x_dir=(1, 0, 0), z_dir=(0, 0, 1))):
        with Locations((5, 25)):
            Rectangle(BOX013_W, BOX013_H)
    extrude(amount=BOX013_DEPTH)


with BuildPart() as fusion044:
    # Box012 → Box012 (new body)
    with BuildSketch(Plane(origin=(0, -25, 24), x_dir=(1, 0, 0), z_dir=(0, 0, 1))):
        with Locations((5, 40)):
            Rectangle(BOX012_W, BOX012_H)
    extrude(amount=BOX012_DEPTH)

    # Fillet018
    fillet018_edges = [fusion044.edges().sort_by_distance(p)[0] for p in [
        (5, -25, 24),
        (5, -25, 41),
        (5, 55, 24),
        (5, 55, 41),
    ]]
    fillet(fillet018_edges, radius=FILLET018_R)

    # Cut027: cut Cube006
    add(cube006.part, mode=Mode.SUBTRACT)

    # Chamfer002
    chamfer002_edges = [fusion044.edges().sort_by_distance(p)[0] for p in [
        (5, -10, 41),
        (5, 40, 41),
    ]]
    chamfer(chamfer002_edges, length=CHAMFER002_SIZE)

    # Fusion031: union Cut028
    add(cut028.part)

    # Cut026: cut Fusion036
    add(fusion036_2.part, mode=Mode.SUBTRACT)

    # Cut025: cut Fusion037
    add(fusion037_2.part, mode=Mode.SUBTRACT)

    # Cut024: cut Fusion038
    add(fusion038_2.part, mode=Mode.SUBTRACT)

    # Cut031: cut Box017
    add(box017.part, mode=Mode.SUBTRACT)

    # Cut035: cut Fillet029
    add(fillet029_1.part, mode=Mode.SUBTRACT)

    # Fusion042: union Cut036
    add(cut036_2.part)

    # Fusion044: union Cut038
    add(cut038_2.part)


with BuildPart() as cut039:
    # Cylinder079 → Cylinder079 (new body)
    with BuildSketch(Plane.XY):
        Circle(CYLINDER079_R)
    extrude(amount=CYLINDER079_DEPTH)


with BuildPart() as cut039_1:
    # Cylinder079 pitch: moved
    add(cut039.part.rotate(Axis((0, 0, 0), (0, 1, 0)), CYLINDER079_PITCH_ANGLE))


with BuildPart() as cut039_2:
    # Cylinder079 placement: moved
    add(cut039_1.part.moved(Location((21, 5, 36))))

    # Fusion045: union Cylinder081, Fusion044
    add(cylinder081_2.part)
    add(fusion044.part)

    # Cut039: cut Fusion046
    add(fusion046_2.part, mode=Mode.SUBTRACT)


with BuildPart() as middle_part:
    # Cylinder089 → Cylinder089 (new body)
    with BuildSketch(Plane.XY):
        Circle(CYLINDER089_R)
    extrude(amount=CYLINDER089_DEPTH)


with BuildPart() as middle_part_1:
    # Cylinder089 pitch: moved
    add(middle_part.part.rotate(Axis((0, 0, 0), (0, 1, 0)), CYLINDER089_PITCH_ANGLE))


with BuildPart() as middle_part_2:
    # Cylinder089 placement: moved
    add(middle_part_1.part.moved(Location((23, 24.5, 27))))

    # Fusion049: union Cylinder090, Cut039
    add(cylinder090_2.part)
    add(cut039_2.part)

    # Cut041: cut Fusion050
    add(fusion050_2.part, mode=Mode.SUBTRACT)

    # Cut042: cut Fusion051
    add(fusion051_2.part, mode=Mode.SUBTRACT)


solid = middle_part_2.part
